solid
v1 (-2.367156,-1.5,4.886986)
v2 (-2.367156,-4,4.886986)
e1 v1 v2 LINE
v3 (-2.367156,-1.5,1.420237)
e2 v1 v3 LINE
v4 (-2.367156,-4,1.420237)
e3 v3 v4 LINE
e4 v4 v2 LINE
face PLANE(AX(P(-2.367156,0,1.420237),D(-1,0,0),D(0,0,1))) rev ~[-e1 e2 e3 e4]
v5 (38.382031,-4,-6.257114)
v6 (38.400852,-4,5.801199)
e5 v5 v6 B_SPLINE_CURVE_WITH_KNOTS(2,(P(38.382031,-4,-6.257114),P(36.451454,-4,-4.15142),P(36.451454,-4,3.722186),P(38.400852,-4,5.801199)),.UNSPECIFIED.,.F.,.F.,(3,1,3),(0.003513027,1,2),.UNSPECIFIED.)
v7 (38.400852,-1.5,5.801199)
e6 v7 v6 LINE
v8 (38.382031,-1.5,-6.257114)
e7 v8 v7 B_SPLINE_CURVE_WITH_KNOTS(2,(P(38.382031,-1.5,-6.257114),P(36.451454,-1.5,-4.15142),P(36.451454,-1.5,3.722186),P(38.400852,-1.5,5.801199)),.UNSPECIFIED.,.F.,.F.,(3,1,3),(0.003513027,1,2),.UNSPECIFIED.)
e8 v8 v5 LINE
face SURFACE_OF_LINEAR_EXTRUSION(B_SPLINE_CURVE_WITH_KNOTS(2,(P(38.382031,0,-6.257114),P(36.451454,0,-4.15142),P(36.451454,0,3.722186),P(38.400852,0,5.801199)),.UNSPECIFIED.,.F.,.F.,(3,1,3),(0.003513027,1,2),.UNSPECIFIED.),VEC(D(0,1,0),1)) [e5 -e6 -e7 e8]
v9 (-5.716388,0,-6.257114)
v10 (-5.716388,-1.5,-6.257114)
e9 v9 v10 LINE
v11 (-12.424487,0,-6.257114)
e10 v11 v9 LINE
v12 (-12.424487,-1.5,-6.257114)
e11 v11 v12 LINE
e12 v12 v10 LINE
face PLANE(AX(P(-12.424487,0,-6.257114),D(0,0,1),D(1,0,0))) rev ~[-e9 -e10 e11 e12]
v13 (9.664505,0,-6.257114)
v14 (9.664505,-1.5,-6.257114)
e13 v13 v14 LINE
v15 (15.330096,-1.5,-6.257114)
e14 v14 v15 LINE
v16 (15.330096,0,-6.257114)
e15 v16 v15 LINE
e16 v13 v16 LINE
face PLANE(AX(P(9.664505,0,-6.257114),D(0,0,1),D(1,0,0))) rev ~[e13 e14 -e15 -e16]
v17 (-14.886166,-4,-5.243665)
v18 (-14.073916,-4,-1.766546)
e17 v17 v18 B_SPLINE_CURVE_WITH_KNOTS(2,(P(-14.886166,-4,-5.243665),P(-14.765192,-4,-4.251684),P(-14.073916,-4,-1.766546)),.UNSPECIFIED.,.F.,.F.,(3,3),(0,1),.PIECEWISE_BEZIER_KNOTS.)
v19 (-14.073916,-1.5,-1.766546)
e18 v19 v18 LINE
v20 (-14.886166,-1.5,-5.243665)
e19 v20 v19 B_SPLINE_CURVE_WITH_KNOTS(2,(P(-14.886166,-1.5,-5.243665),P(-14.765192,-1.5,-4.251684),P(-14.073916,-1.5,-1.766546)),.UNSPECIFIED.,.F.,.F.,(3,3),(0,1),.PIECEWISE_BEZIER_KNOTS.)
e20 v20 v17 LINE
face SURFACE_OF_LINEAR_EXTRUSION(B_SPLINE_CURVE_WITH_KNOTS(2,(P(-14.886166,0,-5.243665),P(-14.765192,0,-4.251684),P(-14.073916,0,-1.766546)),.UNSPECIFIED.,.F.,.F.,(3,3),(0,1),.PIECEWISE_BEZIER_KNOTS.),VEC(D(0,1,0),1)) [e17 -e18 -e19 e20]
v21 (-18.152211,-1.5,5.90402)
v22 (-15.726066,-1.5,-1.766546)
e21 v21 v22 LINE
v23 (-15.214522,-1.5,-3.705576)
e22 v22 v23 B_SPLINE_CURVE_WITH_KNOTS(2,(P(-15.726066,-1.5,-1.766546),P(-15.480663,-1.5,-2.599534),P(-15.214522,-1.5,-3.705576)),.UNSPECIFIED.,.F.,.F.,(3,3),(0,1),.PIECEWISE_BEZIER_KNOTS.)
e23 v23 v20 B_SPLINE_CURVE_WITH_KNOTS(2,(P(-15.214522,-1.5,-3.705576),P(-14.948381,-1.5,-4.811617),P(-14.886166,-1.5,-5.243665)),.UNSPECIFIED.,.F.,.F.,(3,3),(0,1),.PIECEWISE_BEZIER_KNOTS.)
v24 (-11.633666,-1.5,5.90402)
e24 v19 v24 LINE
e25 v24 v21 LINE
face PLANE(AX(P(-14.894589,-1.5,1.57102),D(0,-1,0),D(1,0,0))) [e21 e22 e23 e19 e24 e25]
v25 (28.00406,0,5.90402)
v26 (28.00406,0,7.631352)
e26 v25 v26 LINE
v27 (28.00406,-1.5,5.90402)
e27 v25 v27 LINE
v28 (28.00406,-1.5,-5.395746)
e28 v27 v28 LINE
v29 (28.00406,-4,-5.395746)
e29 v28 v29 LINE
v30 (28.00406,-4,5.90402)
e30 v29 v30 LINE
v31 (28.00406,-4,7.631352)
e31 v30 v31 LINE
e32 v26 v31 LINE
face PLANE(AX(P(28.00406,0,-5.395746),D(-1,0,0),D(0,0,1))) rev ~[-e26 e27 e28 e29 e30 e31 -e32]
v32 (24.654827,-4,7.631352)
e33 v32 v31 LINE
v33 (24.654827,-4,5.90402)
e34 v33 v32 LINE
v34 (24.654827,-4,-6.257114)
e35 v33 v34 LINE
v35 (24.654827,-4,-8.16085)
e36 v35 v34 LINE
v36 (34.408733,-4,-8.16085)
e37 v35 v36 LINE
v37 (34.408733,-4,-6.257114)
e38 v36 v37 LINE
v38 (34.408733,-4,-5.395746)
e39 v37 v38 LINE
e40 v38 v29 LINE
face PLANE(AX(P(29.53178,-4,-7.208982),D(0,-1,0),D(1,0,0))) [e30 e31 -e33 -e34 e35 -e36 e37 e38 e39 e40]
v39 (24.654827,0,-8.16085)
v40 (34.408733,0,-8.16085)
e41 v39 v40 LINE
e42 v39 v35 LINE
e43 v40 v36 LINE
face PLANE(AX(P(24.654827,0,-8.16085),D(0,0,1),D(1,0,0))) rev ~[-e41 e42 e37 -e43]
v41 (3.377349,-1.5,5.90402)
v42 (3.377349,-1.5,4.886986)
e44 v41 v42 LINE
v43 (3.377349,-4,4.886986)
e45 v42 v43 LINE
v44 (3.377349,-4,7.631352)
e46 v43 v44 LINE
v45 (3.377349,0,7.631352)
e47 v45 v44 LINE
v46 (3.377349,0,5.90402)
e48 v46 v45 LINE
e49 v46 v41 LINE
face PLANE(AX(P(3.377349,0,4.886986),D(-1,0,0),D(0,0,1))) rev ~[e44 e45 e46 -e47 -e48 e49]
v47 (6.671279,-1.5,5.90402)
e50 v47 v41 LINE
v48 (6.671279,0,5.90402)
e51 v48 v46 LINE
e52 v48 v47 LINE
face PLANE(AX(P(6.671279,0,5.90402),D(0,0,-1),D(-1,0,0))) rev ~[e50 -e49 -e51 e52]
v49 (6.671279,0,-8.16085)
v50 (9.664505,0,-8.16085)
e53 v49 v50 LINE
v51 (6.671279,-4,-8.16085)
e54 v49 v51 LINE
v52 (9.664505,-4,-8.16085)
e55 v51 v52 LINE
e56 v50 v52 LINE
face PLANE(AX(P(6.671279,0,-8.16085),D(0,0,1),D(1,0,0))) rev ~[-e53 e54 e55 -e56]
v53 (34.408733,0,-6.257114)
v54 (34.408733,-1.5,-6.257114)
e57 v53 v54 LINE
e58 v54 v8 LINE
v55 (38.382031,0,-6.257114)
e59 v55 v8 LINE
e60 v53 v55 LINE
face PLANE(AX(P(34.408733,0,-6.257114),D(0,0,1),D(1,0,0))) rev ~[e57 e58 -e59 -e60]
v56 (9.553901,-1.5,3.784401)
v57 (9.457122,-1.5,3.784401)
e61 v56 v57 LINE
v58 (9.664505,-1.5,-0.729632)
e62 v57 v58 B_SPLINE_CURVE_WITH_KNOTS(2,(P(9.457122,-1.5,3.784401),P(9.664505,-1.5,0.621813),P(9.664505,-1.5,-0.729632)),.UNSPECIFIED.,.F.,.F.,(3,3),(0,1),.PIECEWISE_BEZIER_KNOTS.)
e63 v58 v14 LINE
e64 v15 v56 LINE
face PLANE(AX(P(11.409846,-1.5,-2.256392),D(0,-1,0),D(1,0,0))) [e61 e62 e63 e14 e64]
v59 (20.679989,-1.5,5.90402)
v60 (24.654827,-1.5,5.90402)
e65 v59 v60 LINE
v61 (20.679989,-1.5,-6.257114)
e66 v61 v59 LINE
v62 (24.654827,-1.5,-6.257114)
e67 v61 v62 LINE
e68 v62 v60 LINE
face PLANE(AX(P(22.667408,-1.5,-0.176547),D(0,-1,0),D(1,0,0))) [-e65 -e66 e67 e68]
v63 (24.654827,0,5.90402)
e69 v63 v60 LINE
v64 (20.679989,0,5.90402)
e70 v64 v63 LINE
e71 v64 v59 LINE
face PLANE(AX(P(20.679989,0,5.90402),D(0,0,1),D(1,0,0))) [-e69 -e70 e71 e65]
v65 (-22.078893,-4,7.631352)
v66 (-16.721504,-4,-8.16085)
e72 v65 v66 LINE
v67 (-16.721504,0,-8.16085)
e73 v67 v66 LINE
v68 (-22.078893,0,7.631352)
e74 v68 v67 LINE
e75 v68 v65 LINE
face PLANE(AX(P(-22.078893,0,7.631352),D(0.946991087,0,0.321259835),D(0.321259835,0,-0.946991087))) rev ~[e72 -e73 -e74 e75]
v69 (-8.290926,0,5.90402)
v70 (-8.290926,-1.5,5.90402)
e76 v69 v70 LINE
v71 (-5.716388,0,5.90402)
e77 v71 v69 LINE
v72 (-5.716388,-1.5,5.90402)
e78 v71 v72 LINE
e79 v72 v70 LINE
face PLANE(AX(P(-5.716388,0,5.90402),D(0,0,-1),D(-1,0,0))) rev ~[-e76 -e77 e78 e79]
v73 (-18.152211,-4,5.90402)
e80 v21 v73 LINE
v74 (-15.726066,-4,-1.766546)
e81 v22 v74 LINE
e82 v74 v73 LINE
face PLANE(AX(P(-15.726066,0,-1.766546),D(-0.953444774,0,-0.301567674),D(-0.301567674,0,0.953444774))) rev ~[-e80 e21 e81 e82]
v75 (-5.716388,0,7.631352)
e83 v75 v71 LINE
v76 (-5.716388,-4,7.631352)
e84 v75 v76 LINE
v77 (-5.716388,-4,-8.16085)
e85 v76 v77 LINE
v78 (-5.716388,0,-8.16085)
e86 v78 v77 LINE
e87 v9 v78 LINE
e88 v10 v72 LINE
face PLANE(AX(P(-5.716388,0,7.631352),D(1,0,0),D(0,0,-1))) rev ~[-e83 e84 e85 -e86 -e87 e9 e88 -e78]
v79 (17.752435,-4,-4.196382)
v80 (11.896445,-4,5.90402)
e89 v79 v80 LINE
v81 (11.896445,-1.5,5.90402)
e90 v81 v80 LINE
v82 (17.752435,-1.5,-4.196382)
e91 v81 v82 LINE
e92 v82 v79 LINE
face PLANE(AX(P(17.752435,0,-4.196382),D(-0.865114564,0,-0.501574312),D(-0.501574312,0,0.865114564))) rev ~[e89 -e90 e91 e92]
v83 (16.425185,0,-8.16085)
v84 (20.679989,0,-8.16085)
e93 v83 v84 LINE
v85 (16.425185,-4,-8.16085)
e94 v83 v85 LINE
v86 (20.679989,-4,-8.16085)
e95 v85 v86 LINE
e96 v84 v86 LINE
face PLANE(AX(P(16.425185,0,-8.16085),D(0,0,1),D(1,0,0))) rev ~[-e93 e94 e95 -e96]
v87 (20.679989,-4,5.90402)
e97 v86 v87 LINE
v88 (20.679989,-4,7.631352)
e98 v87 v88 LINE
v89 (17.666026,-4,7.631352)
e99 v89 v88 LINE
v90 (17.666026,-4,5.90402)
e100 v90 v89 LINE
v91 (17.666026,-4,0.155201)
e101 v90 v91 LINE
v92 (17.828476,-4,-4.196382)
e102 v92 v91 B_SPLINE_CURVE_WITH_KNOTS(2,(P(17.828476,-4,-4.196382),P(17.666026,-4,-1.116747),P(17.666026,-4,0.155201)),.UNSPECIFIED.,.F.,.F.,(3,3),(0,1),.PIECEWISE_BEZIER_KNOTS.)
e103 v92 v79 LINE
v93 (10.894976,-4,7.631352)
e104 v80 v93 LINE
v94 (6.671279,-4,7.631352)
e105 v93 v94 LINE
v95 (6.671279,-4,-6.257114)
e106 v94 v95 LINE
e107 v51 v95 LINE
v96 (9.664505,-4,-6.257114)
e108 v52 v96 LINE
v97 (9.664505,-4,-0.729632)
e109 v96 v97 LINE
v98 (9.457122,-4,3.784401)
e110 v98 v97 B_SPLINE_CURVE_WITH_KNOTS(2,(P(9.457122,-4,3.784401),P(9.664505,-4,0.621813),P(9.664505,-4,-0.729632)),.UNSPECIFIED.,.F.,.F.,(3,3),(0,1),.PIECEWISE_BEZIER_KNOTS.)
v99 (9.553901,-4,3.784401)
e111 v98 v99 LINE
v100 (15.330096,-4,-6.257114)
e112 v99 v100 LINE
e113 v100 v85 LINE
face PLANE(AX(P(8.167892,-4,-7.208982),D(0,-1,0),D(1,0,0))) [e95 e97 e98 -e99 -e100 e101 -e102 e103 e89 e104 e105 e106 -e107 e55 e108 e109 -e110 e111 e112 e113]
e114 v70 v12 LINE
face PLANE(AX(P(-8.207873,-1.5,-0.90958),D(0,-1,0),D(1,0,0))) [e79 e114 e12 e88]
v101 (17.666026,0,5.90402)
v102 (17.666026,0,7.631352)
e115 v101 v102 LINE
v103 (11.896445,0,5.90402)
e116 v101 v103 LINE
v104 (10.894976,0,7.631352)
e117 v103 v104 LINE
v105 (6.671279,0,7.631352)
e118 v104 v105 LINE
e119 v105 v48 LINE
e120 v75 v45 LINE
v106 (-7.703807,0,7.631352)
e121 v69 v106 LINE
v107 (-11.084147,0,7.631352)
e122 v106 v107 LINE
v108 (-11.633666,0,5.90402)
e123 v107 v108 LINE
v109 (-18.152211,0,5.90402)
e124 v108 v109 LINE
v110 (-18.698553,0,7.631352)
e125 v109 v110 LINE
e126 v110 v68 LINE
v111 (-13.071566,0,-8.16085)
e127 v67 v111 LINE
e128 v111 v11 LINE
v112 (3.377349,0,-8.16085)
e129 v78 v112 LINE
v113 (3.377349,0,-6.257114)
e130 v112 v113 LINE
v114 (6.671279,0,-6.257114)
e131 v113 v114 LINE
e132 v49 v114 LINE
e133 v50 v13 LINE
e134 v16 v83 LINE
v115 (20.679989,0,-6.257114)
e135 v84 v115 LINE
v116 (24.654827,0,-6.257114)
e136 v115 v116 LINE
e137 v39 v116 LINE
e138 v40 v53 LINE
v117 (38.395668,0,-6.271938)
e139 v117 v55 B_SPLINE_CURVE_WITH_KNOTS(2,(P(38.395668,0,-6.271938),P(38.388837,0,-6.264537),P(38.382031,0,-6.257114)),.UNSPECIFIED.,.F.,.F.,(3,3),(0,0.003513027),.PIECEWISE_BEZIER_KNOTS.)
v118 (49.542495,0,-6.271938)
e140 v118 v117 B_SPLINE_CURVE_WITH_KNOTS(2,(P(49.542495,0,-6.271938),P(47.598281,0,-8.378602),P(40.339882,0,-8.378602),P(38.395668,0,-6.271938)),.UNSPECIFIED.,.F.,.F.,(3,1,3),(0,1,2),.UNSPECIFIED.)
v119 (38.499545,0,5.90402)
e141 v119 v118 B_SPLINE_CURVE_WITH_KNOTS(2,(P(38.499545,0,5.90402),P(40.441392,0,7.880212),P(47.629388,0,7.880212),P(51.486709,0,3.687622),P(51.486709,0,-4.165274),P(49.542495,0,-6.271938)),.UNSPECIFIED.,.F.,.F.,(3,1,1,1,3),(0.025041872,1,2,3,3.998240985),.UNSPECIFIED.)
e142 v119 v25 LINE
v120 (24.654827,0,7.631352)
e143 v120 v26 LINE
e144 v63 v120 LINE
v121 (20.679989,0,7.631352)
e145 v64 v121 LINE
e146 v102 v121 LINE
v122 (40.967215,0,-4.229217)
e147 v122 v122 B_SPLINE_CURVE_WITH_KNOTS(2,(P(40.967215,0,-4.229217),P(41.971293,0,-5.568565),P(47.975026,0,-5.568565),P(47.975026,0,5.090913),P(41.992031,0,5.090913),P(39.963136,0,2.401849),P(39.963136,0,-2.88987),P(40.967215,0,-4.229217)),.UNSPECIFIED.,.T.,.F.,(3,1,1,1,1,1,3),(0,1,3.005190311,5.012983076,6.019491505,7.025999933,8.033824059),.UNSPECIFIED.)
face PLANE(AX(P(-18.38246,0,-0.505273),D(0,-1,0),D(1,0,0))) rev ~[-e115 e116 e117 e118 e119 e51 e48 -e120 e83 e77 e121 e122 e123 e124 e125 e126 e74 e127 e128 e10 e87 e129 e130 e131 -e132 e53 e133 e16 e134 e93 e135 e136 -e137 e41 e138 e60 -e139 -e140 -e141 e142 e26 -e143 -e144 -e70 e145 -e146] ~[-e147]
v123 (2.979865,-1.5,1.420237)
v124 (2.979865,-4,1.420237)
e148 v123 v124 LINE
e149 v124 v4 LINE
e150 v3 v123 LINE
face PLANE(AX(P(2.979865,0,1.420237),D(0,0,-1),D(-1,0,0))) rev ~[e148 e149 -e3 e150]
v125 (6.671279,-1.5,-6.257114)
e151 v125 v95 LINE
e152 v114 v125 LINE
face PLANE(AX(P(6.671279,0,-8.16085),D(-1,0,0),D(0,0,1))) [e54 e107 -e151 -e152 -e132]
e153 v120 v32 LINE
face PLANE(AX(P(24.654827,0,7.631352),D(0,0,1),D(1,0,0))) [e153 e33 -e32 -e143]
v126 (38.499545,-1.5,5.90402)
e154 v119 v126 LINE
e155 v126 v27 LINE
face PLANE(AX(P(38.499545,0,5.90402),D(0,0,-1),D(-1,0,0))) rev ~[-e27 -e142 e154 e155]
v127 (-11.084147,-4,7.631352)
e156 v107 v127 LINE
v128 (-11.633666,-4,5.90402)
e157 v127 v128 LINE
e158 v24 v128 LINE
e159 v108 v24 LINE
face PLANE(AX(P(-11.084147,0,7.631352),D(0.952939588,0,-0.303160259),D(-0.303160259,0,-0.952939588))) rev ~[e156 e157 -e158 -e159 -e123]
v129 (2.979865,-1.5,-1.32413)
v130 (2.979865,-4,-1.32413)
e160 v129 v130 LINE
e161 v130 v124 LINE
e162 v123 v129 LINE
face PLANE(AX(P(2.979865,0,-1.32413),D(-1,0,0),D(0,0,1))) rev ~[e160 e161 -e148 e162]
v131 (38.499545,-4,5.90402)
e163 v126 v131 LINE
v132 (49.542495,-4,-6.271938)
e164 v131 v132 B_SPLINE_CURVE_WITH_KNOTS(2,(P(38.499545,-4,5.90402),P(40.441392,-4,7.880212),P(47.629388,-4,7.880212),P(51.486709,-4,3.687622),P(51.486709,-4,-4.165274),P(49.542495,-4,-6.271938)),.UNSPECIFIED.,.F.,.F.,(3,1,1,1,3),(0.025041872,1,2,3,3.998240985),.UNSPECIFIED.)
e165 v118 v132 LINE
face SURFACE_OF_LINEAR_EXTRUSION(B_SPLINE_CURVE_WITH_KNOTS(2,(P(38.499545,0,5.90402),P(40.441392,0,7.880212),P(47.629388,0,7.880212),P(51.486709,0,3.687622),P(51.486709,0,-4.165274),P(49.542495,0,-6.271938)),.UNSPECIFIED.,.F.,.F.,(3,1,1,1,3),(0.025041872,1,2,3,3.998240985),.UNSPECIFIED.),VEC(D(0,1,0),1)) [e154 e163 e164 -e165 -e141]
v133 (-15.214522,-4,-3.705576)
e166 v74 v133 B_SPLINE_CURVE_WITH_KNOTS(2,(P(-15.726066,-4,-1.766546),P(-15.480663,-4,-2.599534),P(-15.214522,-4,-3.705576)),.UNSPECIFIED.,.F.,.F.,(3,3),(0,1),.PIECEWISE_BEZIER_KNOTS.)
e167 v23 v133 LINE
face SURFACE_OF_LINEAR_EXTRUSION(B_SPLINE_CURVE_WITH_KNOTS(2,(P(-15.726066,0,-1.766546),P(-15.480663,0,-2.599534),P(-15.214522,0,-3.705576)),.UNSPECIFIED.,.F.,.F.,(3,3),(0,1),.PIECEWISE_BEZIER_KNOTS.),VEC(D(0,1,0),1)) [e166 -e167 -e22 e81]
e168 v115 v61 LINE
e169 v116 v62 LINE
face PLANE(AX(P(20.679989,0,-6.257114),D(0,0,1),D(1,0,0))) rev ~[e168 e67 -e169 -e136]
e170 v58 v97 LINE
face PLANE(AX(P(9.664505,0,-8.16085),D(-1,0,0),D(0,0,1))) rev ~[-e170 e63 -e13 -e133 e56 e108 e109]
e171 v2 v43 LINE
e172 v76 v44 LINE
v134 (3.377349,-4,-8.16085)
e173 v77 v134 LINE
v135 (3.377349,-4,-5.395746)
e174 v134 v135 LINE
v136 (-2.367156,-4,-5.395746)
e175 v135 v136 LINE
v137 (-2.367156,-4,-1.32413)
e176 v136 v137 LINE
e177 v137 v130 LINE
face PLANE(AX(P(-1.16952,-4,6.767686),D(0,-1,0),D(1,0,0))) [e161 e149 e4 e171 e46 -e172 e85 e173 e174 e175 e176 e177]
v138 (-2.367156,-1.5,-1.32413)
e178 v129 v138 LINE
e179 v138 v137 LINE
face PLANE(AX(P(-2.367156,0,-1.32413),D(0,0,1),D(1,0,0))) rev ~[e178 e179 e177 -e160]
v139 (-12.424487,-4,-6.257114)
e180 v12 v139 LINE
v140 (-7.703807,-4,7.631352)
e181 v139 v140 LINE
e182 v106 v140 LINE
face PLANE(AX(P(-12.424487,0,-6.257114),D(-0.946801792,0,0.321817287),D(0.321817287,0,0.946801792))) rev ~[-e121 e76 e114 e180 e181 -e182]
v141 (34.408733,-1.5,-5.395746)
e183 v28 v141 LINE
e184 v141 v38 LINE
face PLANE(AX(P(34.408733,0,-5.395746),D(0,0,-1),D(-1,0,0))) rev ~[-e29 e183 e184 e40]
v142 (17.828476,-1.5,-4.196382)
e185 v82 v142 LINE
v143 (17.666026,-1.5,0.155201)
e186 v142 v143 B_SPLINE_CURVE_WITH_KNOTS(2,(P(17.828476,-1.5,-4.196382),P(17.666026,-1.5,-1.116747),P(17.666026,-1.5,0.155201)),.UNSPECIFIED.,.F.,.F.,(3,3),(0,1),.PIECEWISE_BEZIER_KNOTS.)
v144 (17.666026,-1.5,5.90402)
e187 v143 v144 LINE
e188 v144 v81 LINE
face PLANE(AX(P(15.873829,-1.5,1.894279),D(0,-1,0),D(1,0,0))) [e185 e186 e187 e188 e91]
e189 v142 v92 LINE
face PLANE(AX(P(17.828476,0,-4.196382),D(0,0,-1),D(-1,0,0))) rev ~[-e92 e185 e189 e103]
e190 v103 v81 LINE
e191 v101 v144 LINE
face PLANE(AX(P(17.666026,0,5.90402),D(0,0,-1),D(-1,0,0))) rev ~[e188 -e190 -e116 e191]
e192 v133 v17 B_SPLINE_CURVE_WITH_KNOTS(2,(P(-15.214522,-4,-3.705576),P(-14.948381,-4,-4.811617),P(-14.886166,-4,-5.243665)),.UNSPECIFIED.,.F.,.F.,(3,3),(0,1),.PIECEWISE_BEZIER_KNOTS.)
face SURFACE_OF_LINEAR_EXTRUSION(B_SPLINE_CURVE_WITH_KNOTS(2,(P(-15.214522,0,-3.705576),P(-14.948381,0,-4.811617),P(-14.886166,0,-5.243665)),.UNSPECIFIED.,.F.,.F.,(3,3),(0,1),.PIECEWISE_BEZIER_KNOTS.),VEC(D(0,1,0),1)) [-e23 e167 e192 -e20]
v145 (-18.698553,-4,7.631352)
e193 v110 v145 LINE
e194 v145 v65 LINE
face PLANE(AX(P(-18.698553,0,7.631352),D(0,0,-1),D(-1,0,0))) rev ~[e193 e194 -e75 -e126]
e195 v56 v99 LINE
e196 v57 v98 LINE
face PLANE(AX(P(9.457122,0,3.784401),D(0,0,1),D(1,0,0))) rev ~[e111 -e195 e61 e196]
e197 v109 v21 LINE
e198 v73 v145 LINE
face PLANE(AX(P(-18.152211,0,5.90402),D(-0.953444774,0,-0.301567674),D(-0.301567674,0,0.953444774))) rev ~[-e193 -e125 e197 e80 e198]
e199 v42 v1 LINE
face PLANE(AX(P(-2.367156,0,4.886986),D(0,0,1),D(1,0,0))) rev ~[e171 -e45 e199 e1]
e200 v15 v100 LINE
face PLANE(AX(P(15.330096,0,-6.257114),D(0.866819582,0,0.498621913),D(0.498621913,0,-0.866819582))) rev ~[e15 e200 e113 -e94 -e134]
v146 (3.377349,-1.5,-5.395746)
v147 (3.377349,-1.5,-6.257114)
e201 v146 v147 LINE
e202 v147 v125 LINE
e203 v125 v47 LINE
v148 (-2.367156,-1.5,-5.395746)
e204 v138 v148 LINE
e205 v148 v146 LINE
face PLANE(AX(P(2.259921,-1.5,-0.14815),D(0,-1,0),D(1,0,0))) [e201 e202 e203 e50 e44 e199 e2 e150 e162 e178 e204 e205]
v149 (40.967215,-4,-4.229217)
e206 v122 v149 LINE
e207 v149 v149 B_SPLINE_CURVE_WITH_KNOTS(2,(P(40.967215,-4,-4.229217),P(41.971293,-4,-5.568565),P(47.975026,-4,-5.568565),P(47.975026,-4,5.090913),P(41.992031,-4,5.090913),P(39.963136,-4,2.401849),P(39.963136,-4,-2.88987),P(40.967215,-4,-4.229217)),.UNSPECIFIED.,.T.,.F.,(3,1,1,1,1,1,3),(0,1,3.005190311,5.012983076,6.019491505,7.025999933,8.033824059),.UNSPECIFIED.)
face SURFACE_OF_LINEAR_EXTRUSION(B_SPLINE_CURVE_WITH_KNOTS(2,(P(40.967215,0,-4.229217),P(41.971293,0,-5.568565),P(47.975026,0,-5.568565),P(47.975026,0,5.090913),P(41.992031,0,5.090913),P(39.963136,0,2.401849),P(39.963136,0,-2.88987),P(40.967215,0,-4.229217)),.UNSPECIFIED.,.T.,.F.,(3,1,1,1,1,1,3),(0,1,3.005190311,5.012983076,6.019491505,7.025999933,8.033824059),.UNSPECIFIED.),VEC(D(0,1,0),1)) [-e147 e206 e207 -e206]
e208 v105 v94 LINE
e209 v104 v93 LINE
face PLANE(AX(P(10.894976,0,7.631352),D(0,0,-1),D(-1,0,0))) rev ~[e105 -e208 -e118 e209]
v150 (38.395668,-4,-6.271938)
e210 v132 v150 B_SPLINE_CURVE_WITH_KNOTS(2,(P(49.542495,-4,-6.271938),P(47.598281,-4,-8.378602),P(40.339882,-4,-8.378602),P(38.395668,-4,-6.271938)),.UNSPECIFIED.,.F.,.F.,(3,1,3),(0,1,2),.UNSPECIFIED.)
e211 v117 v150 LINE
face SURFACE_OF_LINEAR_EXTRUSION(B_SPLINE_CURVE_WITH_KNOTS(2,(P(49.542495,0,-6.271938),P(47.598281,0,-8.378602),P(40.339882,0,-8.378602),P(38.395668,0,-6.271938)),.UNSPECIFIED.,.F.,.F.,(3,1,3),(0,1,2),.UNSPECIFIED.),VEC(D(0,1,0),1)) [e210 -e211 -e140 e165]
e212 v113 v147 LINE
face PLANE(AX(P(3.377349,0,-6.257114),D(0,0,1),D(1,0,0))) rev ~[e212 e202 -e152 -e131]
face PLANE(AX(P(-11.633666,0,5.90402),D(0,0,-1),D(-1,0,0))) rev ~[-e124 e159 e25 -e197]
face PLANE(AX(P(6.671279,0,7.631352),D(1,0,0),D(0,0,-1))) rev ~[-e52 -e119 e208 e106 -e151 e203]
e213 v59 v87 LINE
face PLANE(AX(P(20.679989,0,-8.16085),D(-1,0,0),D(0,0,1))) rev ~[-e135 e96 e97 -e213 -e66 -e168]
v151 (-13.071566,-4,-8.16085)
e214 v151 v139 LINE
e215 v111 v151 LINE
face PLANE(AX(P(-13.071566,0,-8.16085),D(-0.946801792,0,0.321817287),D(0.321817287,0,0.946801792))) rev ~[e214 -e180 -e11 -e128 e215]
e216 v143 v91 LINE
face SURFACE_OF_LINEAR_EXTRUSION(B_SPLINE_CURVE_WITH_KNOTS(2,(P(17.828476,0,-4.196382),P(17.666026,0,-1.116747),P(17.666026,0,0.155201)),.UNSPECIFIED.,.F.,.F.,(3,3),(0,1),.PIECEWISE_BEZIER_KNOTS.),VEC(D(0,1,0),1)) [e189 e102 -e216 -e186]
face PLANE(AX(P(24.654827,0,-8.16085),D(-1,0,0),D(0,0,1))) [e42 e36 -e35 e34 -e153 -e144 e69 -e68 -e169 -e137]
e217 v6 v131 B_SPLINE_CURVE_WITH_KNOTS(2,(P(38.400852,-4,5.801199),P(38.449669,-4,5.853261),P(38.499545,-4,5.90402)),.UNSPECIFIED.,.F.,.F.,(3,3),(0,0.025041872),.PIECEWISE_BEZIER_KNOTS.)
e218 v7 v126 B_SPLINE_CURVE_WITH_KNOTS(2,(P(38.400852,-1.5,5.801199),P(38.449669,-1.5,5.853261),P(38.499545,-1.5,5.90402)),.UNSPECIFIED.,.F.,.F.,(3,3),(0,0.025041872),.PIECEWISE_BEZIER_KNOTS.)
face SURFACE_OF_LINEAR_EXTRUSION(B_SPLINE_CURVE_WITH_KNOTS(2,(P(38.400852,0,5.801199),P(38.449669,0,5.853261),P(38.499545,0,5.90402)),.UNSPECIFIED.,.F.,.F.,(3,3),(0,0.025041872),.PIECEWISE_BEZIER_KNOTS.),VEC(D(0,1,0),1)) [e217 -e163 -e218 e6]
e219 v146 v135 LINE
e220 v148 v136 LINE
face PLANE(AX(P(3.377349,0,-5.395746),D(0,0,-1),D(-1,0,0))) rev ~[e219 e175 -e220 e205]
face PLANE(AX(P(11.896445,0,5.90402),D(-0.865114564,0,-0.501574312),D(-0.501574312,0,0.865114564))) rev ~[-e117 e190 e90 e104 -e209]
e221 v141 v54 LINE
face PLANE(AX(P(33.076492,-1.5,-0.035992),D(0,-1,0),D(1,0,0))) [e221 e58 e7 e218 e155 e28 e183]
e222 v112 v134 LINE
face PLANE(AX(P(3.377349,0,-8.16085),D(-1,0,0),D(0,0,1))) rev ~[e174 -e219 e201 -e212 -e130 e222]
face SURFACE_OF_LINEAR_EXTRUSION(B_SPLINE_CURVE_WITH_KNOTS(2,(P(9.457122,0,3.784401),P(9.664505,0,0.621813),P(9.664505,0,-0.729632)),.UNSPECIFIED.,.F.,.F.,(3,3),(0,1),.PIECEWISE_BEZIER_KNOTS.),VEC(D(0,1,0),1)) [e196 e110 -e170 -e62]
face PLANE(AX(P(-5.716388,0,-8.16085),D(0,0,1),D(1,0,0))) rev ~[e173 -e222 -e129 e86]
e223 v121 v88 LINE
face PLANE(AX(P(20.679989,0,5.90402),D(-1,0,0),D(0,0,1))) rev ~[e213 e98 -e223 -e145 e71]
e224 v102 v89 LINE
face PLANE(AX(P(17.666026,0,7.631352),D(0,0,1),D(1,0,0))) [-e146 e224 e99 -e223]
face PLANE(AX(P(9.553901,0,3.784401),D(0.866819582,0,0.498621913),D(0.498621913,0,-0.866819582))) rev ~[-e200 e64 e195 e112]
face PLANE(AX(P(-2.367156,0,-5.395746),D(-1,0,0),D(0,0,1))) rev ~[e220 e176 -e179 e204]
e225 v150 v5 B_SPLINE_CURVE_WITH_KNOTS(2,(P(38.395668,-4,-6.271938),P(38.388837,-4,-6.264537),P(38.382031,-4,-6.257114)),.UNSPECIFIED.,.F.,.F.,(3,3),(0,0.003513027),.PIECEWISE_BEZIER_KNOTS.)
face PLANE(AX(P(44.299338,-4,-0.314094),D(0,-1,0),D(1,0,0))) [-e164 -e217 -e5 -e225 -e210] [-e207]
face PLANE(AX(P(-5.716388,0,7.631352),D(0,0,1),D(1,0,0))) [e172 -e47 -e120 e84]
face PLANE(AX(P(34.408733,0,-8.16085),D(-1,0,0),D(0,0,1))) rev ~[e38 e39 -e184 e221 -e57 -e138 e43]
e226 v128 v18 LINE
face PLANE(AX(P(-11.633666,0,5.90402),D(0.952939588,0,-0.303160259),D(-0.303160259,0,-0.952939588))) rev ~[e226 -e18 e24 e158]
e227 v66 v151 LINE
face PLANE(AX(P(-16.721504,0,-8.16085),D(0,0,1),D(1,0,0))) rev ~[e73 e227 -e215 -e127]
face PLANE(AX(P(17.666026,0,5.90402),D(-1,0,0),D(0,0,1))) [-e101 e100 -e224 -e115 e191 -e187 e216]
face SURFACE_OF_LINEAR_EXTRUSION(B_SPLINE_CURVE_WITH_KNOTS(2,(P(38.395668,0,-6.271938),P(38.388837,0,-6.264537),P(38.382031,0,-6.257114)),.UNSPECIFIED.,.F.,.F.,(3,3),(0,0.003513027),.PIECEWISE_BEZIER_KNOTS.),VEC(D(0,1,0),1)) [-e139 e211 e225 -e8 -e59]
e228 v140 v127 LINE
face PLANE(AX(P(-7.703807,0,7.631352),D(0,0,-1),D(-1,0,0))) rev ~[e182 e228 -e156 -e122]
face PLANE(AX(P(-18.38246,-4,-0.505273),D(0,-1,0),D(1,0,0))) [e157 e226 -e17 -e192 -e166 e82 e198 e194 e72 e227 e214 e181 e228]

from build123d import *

# Parameters (mm, degrees)
F1_DEPTH = 1.5
F0_W     = 3.9748375501
F0_H     = 12.1611338109
F0_W_2   = 9.0937370386
F0_H_2   = 1.7273324568
F0_H_3   = 1.9037361379
F0_W_3   = 2.9932254943
F0_W_4   = 3.0139637771
F0_W_5   = 9.7539057099
F0_W_6   = 3.3492326835
F2_DEPTH = 4


with BuildPart() as f1:
    # F0 (on Front) → F1 (new body)
    with BuildSketch(Plane.XZ):
        with BuildLine():
            Line((-14.0739162962, -1.7665462536), (-11.6336663347, 5.9040198103))
            Line((-11.6336663347, 5.9040198103), (-18.1522106352, 5.9040198103))
            Line((-18.1522106352, 5.9040198103), (-15.7260661648, -1.7665462536))
            add(Edge.make_bspline(
                [(-15.7260661648, -1.7665462536), (-15.4806631509, -2.5995339489), (-15.214521854, -3.7055757019)],
                knots=[0, 0, 0, 1, 1, 1], degree=2))
            add(Edge.make_bspline(
                [(-15.214521854, -3.7055757019), (-14.9483805572, -4.811617455), (-14.8861657086, -5.2436650148)],
                knots=[0, 0, 0, 1, 1, 1], degree=2))
            add(Edge.make_bspline(
                [(-14.8861657086, -5.2436650148), (-14.7651923918, -4.2516838175), (-14.0739162962, -1.7665462536)],
                knots=[0, 0, 0, 1, 1, 1], degree=2))
        make_face()
    extrude(amount=F1_DEPTH)



with BuildPart() as f1b:
    # F0 (on Front) → F1, piece 2 (new body)
    with BuildSketch(Plane.XZ):
        Polygon((-5.7163882995, -6.2571140006), (-5.7163882995, 5.9040198103), (-8.2909262046, 5.9040198103), (-12.4244873358, -6.2571140006), align=None)
    extrude(amount=F1_DEPTH)


with BuildPart() as f1c:
    # F0 (on Front) → F1, piece 3 (new body)
    with BuildSketch(Plane.XZ):
        Polygon((6.671279335, -6.2571140006), (6.671279335, 5.9040198103), (3.3773487391, 5.9040198103), (3.3773487391, 4.8869861673), (-2.3671556159, 4.8869861673), (-2.3671556159, 1.4202365475), (2.9798649841, 1.4202365475), (2.9798649841, -1.3241295523), (-2.3671556159, -1.3241295523), (-2.3671556159, -5.3957457559), (3.3773487391, -5.3957457559), (3.3773487391, -6.2571140006), align=None)
    extrude(amount=F1_DEPTH)


with BuildPart() as f1d:
    # F0 (on Front) → F1, piece 4 (new body)
    with BuildSketch(Plane.XZ):
        with BuildLine():
            Line((9.6645048292, -6.2571140006), (15.3300960859, -6.2571140006))
            Line((15.3300960859, -6.2571140006), (9.5539006539, 3.7844007947))
            Line((9.5539006539, 3.7844007947), (9.4571220005, 3.7844007947))
            add(Edge.make_bspline(
                [(9.4571220005, 3.7844007947), (9.6645048292, 0.621812657), (9.6645048292, -0.7296321101)],
                knots=[0, 0, 0, 1, 1, 1], degree=2))
            Line((9.6645048292, -0.7296321101), (9.6645048292, -6.2571140006))
        make_face()
    extrude(amount=F1_DEPTH)


with BuildPart() as f1e:
    # F0 (on Front) → F1, piece 5 (new body)
    with BuildSketch(Plane.XZ):
        with BuildLine():
            Line((17.6660256366, 0.1552012924), (17.6660256366, 5.9040198103))
            Line((17.6660256366, 5.9040198103), (11.8964454772, 5.9040198103))
            Line((11.8964454772, 5.9040198103), (17.7524351486, -4.1963817299))
            Line((17.7524351486, -4.1963817299), (17.8284755191, -4.1963817299))
            add(Edge.make_bspline(
                [(17.8284755191, -4.1963817299), (17.6660256366, -1.1167467236), (17.6660256366, 0.1552012924)],
                knots=[0, 0, 0, 1, 1, 1], degree=2))
        make_face()
    extrude(amount=F1_DEPTH)


with BuildPart() as f1f:
    # F0 (on Front) → F1, piece 6 (new body)
    with BuildSketch(Plane.XZ):
        with Locations((22.6674081888, -0.1765470952)):
            Rectangle(F0_W, F0_H)
    extrude(amount=F1_DEPTH)


with BuildPart() as f1g:
    # F0 (on Front) → F1, piece 7 (new body)
    with BuildSketch(Plane.XZ):
        with BuildLine():
            add(Edge.make_bspline(
                [(38.4008521263, 5.8011988038), (38.4496687154, 5.8532611767), (38.4995452021, 5.9040198103)],
                knots=[0, 0, 0, 0.0250418715, 0.0250418715, 0.0250418715], degree=2))
            Line((38.4995452021, 5.9040198103), (28.0040596474, 5.9040198103))
            Line((28.0040596474, 5.9040198103), (28.0040596474, -5.3957457559))
            Line((28.0040596474, -5.3957457559), (34.4087326738, -5.3957457559))
            Line((34.4087326738, -5.3957457559), (34.4087326738, -6.2571140006))
            Line((34.4087326738, -6.2571140006), (38.3820313969, -6.2571140006))
            add(Edge.make_bspline(
                [(38.3820313969, -6.2571140006), (36.4514535366, -4.1514198749), (36.4514535366, -0.2215441798)],
                knots=[0.0035130271, 0.0035130271, 0.0035130271, 1, 1, 1], degree=2))
            add(Edge.make_bspline(
                [(36.4514535366, -0.2215441798), (36.4514535366, 3.7221859461), (38.4008521263, 5.8011988038)],
                knots=[0, 0, 0, 1, 1, 1], degree=2))
        make_face()
    extrude(amount=F1_DEPTH)


with BuildPart() as f1_1:
    add(f1.part)

    add(f1b.part)  # F2 merges F1b

    add(f1c.part)  # F2 merges F1c

    add(f1d.part)  # F2 merges F1d

    add(f1e.part)  # F2 merges F1e

    add(f1f.part)  # F2 merges F1f

    add(f1g.part)  # F2 merges F1g
    # F0 (on Front) → F2 (join)
    with BuildSketch(Plane.XZ):
        Polygon((-13.0715659574, -8.1608501386), (-12.4244873358, -6.2571140006), (-17.3602644354, -6.2571140006), (-21.4139763266, 5.9040198103), (-18.1522106352, 5.9040198103), (-18.6985533762, 7.6313522671), (-22.078893484, 7.6313522671), (-16.7215037426, -8.1608501386), align=None)
        with BuildLine():
            Line((-12.4244873358, -6.2571140006), (-8.2909262046, 5.9040198103))
            Line((-8.2909262046, 5.9040198103), (-11.6336663347, 5.9040198103))
            Line((-11.6336663347, 5.9040198103), (-14.0739162962, -1.7665462536))
            add(Edge.make_bspline(
                [(-14.8861657086, -5.2436650148), (-14.7651923918, -4.2516838175), (-14.0739162962, -1.7665462536)],
                knots=[0, 0, 0, 1, 1, 1], degree=2))
            add(Edge.make_bspline(
                [(-15.214521854, -3.7055757019), (-14.9483805572, -4.811617455), (-14.8861657086, -5.2436650148)],
                knots=[0, 0, 0, 1, 1, 1], degree=2))
            add(Edge.make_bspline(
                [(-15.7260661648, -1.7665462536), (-15.4806631509, -2.5995339489), (-15.214521854, -3.7055757019)],
                knots=[0, 0, 0, 1, 1, 1], degree=2))
            Line((-15.7260661648, -1.7665462536), (-18.1522106352, 5.9040198103))
            Line((-18.1522106352, 5.9040198103), (-21.4139763266, 5.9040198103))
            Line((-21.4139763266, 5.9040198103), (-17.3602644354, -6.2571140006))
            Line((-17.3602644354, -6.2571140006), (-12.4244873358, -6.2571140006))
        make_face()
        Polygon((-11.6336663347, 5.9040198103), (-8.2909262046, 5.9040198103), (-7.7038070745, 7.6313522671), (-11.0841471824, 7.6313522671), align=None)
        with Locations((-1.1695197802, 6.7676860387)):
            Rectangle(F0_W_2, F0_H_2)
        Polygon((3.3773487391, 4.8869861673), (3.3773487391, 5.9040198103), (-5.7163882995, 5.9040198103), (-5.7163882995, -6.2571140006), (3.3773487391, -6.2571140006), (3.3773487391, -5.3957457559), (-2.3671556159, -5.3957457559), (-2.3671556159, -1.3241295523), (2.9798649841, -1.3241295523), (2.9798649841, 1.4202365475), (-2.3671556159, 1.4202365475), (-2.3671556159, 4.8869861673), align=None)
        with Locations((-1.1695197802, -7.2089820696)):
            Rectangle(F0_W_2, F0_H_3)
        with Locations((8.1678920821, -7.2089820696)):
            Rectangle(F0_W_3, F0_H_3)
        with BuildLine():
            Line((20.6799894138, -6.2571140006), (20.6799894138, 5.9040198103))
            Line((20.6799894138, 5.9040198103), (17.6660256366, 5.9040198103))
            Line((17.6660256366, 5.9040198103), (17.6660256366, 0.1552012924))
            add(Edge.make_bspline(
                [(17.8284755191, -4.1963817299), (17.6660256366, -1.1167467236), (17.6660256366, 0.1552012924)],
                knots=[0, 0, 0, 1, 1, 1], degree=2))
            Line((17.8284755191, -4.1963817299), (17.7524351486, -4.1963817299))
            Line((17.7524351486, -4.1963817299), (11.8964454772, 5.9040198103))
            Line((11.8964454772, 5.9040198103), (6.671279335, 5.9040198103))
            Line((6.671279335, 5.9040198103), (6.671279335, -6.2571140006))
            Line((6.671279335, -6.2571140006), (9.6645048292, -6.2571140006))
            Line((9.6645048292, -6.2571140006), (9.6645048292, -0.7296321101))
            add(Edge.make_bspline(
                [(9.4571220005, 3.7844007947), (9.6645048292, 0.621812657), (9.6645048292, -0.7296321101)],
                knots=[0, 0, 0, 1, 1, 1], degree=2))
            Line((9.4571220005, 3.7844007947), (9.5539006539, 3.7844007947))
            Line((9.5539006539, 3.7844007947), (15.3300960859, -6.2571140006))
            Line((15.3300960859, -6.2571140006), (20.6799894138, -6.2571140006))
        make_face()
        Polygon((6.671279335, 5.9040198103), (11.8964454772, 5.9040198103), (10.8949762795, 7.6313522671), (6.671279335, 7.6313522671), align=None)
        with Locations((19.1730075252, 6.7676860387)):
            Rectangle(F0_W_4, F0_H_2)
        Polygon((20.6799894138, -8.1608501386), (20.6799894138, -6.2571140006), (15.3300960859, -6.2571140006), (16.4251850449, -8.1608501386), align=None)
        with Locations((29.5317798189, -7.2089820696)):
            Rectangle(F0_W_5, F0_H_3)
        Polygon((28.0040596474, -5.3957457559), (28.0040596474, 5.9040198103), (24.6548269639, 5.9040198103), (24.6548269639, -6.2571140006), (34.4087326738, -6.2571140006), (34.4087326738, -5.3957457559), align=None)
        with Locations((26.3294433057, 6.7676860387)):
            Rectangle(F0_W_6, F0_H_2)
        with BuildLine():
            Line((38.4995452021, 5.9040198103), (40.0562398136, 5.9040198103))
            Line((40.0562398136, 5.9040198103), (38.9265157282, 0))
            Line((38.9265157282, 0), (40.5214205384, -6.2571140006))
            Line((40.5214205384, -6.2571140006), (38.3820313969, -6.2571140006))
            add(Edge.make_bspline(
                [(38.3956675556, -6.2719382071), (38.3888374792, -6.2645374398), (38.3820313969, -6.2571140006)],
                knots=[0, 0, 0, 0.0035130271, 0.0035130271, 0.0035130271], degree=2))
            add(Edge.make_bspline(
                [(43.969081077, -8.3786021087), (40.3398815747, -8.3786021087), (38.3956675556, -6.2719382071)],
                knots=[0, 0, 0, 1, 1, 1], degree=2))
            add(Edge.make_bspline(
                [(49.5424945984, -6.2719382071), (47.5982805793, -8.3786021087), (43.969081077, -8.3786021087)],
                knots=[0, 0, 0, 1, 1, 1], degree=2))
            add(Edge.make_bspline(
                [(51.4867086174, -0.2422824626), (51.4867086174, -4.1652743056), (49.5424945984, -6.2719382071)],
                knots=[0, 0, 0, 1, 1, 1], degree=2))
            add(Edge.make_bspline(
                [(49.5580483105, 5.7839169014), (51.4867086174, 3.6876221413), (51.4867086174, -0.2422824626)],
                knots=[0, 0, 0, 1, 1, 1], degree=2))
            add(Edge.make_bspline(
                [(43.9898193599, 7.8802116615), (47.6293880036, 7.8802116615), (49.5580483105, 5.7839169014)],
                knots=[0, 0, 0, 1, 1, 1], degree=2))
            add(Edge.make_bspline(
                [(38.4995452021, 5.9040198103), (40.4413923265, 7.8802116615), (43.9898193599, 7.8802116615)],
                knots=[0.0250418715, 0.0250418715, 0.0250418715, 1, 1, 1], degree=2))
        make_face()
        with BuildLine():
            add(Edge.make_bspline(
                [(39.9631361026, -0.2422824626), (39.9631361026, -2.889869909), (40.9672146315, -4.2292173444)],
                knots=[0, 0, 0, 1, 1, 1], degree=2))
            add(Edge.make_bspline(
                [(40.977583773, 3.7463806094), (39.9631361026, 2.4018486033), (39.9631361026, -0.2422824626)],
                knots=[0, 0, 0, 1, 1, 1], degree=2))
            add(Edge.make_bspline(
                [(43.9898193599, 5.0909126155), (41.9920314434, 5.0909126155), (40.977583773, 3.7463806094)],
                knots=[0, 0, 0, 1, 1, 1], degree=2))
            add(Edge.make_bspline(
                [(47.9750260514, -0.2422824626), (47.9750260514, 5.0909126155), (43.9898193599, 5.0909126155)],
                knots=[0, 0, 0, 1, 1, 1], degree=2))
            add(Edge.make_bspline(
                [(43.969081077, -5.5685647798), (47.9750260514, -5.5685647798), (47.9750260514, -0.2422824626)],
                knots=[0, 0, 0, 1, 1, 1], degree=2))
            add(Edge.make_bspline(
                [(40.9672146315, -4.2292173444), (41.9712931605, -5.5685647798), (43.969081077, -5.5685647798)],
                knots=[0, 0, 0, 1, 1, 1], degree=2))
        make_face(mode=Mode.SUBTRACT)
        with BuildLine():
            Line((38.9265157282, 0), (40.0562398136, 5.9040198103))
            Line((40.0562398136, 5.9040198103), (38.4995452021, 5.9040198103))
            add(Edge.make_bspline(
                [(38.4008521263, 5.8011988038), (38.4496687154, 5.8532611767), (38.4995452021, 5.9040198103)],
                knots=[0, 0, 0, 0.0250418715, 0.0250418715, 0.0250418715], degree=2))
            add(Edge.make_bspline(
                [(36.4514535366, -0.2215441798), (36.4514535366, 3.7221859461), (38.4008521263, 5.8011988038)],
                knots=[0, 0, 0, 1, 1, 1], degree=2))
            add(Edge.make_bspline(
                [(38.3820313969, -6.2571140006), (36.4514535366, -4.1514198749), (36.4514535366, -0.2215441798)],
                knots=[0.0035130271, 0.0035130271, 0.0035130271, 1, 1, 1], degree=2))
            Line((38.3820313969, -6.2571140006), (40.5214205384, -6.2571140006))
            Line((40.5214205384, -6.2571140006), (38.9265157282, 0))
        make_face()
    extrude(amount=F2_DEPTH)


solid = f1_1.part
